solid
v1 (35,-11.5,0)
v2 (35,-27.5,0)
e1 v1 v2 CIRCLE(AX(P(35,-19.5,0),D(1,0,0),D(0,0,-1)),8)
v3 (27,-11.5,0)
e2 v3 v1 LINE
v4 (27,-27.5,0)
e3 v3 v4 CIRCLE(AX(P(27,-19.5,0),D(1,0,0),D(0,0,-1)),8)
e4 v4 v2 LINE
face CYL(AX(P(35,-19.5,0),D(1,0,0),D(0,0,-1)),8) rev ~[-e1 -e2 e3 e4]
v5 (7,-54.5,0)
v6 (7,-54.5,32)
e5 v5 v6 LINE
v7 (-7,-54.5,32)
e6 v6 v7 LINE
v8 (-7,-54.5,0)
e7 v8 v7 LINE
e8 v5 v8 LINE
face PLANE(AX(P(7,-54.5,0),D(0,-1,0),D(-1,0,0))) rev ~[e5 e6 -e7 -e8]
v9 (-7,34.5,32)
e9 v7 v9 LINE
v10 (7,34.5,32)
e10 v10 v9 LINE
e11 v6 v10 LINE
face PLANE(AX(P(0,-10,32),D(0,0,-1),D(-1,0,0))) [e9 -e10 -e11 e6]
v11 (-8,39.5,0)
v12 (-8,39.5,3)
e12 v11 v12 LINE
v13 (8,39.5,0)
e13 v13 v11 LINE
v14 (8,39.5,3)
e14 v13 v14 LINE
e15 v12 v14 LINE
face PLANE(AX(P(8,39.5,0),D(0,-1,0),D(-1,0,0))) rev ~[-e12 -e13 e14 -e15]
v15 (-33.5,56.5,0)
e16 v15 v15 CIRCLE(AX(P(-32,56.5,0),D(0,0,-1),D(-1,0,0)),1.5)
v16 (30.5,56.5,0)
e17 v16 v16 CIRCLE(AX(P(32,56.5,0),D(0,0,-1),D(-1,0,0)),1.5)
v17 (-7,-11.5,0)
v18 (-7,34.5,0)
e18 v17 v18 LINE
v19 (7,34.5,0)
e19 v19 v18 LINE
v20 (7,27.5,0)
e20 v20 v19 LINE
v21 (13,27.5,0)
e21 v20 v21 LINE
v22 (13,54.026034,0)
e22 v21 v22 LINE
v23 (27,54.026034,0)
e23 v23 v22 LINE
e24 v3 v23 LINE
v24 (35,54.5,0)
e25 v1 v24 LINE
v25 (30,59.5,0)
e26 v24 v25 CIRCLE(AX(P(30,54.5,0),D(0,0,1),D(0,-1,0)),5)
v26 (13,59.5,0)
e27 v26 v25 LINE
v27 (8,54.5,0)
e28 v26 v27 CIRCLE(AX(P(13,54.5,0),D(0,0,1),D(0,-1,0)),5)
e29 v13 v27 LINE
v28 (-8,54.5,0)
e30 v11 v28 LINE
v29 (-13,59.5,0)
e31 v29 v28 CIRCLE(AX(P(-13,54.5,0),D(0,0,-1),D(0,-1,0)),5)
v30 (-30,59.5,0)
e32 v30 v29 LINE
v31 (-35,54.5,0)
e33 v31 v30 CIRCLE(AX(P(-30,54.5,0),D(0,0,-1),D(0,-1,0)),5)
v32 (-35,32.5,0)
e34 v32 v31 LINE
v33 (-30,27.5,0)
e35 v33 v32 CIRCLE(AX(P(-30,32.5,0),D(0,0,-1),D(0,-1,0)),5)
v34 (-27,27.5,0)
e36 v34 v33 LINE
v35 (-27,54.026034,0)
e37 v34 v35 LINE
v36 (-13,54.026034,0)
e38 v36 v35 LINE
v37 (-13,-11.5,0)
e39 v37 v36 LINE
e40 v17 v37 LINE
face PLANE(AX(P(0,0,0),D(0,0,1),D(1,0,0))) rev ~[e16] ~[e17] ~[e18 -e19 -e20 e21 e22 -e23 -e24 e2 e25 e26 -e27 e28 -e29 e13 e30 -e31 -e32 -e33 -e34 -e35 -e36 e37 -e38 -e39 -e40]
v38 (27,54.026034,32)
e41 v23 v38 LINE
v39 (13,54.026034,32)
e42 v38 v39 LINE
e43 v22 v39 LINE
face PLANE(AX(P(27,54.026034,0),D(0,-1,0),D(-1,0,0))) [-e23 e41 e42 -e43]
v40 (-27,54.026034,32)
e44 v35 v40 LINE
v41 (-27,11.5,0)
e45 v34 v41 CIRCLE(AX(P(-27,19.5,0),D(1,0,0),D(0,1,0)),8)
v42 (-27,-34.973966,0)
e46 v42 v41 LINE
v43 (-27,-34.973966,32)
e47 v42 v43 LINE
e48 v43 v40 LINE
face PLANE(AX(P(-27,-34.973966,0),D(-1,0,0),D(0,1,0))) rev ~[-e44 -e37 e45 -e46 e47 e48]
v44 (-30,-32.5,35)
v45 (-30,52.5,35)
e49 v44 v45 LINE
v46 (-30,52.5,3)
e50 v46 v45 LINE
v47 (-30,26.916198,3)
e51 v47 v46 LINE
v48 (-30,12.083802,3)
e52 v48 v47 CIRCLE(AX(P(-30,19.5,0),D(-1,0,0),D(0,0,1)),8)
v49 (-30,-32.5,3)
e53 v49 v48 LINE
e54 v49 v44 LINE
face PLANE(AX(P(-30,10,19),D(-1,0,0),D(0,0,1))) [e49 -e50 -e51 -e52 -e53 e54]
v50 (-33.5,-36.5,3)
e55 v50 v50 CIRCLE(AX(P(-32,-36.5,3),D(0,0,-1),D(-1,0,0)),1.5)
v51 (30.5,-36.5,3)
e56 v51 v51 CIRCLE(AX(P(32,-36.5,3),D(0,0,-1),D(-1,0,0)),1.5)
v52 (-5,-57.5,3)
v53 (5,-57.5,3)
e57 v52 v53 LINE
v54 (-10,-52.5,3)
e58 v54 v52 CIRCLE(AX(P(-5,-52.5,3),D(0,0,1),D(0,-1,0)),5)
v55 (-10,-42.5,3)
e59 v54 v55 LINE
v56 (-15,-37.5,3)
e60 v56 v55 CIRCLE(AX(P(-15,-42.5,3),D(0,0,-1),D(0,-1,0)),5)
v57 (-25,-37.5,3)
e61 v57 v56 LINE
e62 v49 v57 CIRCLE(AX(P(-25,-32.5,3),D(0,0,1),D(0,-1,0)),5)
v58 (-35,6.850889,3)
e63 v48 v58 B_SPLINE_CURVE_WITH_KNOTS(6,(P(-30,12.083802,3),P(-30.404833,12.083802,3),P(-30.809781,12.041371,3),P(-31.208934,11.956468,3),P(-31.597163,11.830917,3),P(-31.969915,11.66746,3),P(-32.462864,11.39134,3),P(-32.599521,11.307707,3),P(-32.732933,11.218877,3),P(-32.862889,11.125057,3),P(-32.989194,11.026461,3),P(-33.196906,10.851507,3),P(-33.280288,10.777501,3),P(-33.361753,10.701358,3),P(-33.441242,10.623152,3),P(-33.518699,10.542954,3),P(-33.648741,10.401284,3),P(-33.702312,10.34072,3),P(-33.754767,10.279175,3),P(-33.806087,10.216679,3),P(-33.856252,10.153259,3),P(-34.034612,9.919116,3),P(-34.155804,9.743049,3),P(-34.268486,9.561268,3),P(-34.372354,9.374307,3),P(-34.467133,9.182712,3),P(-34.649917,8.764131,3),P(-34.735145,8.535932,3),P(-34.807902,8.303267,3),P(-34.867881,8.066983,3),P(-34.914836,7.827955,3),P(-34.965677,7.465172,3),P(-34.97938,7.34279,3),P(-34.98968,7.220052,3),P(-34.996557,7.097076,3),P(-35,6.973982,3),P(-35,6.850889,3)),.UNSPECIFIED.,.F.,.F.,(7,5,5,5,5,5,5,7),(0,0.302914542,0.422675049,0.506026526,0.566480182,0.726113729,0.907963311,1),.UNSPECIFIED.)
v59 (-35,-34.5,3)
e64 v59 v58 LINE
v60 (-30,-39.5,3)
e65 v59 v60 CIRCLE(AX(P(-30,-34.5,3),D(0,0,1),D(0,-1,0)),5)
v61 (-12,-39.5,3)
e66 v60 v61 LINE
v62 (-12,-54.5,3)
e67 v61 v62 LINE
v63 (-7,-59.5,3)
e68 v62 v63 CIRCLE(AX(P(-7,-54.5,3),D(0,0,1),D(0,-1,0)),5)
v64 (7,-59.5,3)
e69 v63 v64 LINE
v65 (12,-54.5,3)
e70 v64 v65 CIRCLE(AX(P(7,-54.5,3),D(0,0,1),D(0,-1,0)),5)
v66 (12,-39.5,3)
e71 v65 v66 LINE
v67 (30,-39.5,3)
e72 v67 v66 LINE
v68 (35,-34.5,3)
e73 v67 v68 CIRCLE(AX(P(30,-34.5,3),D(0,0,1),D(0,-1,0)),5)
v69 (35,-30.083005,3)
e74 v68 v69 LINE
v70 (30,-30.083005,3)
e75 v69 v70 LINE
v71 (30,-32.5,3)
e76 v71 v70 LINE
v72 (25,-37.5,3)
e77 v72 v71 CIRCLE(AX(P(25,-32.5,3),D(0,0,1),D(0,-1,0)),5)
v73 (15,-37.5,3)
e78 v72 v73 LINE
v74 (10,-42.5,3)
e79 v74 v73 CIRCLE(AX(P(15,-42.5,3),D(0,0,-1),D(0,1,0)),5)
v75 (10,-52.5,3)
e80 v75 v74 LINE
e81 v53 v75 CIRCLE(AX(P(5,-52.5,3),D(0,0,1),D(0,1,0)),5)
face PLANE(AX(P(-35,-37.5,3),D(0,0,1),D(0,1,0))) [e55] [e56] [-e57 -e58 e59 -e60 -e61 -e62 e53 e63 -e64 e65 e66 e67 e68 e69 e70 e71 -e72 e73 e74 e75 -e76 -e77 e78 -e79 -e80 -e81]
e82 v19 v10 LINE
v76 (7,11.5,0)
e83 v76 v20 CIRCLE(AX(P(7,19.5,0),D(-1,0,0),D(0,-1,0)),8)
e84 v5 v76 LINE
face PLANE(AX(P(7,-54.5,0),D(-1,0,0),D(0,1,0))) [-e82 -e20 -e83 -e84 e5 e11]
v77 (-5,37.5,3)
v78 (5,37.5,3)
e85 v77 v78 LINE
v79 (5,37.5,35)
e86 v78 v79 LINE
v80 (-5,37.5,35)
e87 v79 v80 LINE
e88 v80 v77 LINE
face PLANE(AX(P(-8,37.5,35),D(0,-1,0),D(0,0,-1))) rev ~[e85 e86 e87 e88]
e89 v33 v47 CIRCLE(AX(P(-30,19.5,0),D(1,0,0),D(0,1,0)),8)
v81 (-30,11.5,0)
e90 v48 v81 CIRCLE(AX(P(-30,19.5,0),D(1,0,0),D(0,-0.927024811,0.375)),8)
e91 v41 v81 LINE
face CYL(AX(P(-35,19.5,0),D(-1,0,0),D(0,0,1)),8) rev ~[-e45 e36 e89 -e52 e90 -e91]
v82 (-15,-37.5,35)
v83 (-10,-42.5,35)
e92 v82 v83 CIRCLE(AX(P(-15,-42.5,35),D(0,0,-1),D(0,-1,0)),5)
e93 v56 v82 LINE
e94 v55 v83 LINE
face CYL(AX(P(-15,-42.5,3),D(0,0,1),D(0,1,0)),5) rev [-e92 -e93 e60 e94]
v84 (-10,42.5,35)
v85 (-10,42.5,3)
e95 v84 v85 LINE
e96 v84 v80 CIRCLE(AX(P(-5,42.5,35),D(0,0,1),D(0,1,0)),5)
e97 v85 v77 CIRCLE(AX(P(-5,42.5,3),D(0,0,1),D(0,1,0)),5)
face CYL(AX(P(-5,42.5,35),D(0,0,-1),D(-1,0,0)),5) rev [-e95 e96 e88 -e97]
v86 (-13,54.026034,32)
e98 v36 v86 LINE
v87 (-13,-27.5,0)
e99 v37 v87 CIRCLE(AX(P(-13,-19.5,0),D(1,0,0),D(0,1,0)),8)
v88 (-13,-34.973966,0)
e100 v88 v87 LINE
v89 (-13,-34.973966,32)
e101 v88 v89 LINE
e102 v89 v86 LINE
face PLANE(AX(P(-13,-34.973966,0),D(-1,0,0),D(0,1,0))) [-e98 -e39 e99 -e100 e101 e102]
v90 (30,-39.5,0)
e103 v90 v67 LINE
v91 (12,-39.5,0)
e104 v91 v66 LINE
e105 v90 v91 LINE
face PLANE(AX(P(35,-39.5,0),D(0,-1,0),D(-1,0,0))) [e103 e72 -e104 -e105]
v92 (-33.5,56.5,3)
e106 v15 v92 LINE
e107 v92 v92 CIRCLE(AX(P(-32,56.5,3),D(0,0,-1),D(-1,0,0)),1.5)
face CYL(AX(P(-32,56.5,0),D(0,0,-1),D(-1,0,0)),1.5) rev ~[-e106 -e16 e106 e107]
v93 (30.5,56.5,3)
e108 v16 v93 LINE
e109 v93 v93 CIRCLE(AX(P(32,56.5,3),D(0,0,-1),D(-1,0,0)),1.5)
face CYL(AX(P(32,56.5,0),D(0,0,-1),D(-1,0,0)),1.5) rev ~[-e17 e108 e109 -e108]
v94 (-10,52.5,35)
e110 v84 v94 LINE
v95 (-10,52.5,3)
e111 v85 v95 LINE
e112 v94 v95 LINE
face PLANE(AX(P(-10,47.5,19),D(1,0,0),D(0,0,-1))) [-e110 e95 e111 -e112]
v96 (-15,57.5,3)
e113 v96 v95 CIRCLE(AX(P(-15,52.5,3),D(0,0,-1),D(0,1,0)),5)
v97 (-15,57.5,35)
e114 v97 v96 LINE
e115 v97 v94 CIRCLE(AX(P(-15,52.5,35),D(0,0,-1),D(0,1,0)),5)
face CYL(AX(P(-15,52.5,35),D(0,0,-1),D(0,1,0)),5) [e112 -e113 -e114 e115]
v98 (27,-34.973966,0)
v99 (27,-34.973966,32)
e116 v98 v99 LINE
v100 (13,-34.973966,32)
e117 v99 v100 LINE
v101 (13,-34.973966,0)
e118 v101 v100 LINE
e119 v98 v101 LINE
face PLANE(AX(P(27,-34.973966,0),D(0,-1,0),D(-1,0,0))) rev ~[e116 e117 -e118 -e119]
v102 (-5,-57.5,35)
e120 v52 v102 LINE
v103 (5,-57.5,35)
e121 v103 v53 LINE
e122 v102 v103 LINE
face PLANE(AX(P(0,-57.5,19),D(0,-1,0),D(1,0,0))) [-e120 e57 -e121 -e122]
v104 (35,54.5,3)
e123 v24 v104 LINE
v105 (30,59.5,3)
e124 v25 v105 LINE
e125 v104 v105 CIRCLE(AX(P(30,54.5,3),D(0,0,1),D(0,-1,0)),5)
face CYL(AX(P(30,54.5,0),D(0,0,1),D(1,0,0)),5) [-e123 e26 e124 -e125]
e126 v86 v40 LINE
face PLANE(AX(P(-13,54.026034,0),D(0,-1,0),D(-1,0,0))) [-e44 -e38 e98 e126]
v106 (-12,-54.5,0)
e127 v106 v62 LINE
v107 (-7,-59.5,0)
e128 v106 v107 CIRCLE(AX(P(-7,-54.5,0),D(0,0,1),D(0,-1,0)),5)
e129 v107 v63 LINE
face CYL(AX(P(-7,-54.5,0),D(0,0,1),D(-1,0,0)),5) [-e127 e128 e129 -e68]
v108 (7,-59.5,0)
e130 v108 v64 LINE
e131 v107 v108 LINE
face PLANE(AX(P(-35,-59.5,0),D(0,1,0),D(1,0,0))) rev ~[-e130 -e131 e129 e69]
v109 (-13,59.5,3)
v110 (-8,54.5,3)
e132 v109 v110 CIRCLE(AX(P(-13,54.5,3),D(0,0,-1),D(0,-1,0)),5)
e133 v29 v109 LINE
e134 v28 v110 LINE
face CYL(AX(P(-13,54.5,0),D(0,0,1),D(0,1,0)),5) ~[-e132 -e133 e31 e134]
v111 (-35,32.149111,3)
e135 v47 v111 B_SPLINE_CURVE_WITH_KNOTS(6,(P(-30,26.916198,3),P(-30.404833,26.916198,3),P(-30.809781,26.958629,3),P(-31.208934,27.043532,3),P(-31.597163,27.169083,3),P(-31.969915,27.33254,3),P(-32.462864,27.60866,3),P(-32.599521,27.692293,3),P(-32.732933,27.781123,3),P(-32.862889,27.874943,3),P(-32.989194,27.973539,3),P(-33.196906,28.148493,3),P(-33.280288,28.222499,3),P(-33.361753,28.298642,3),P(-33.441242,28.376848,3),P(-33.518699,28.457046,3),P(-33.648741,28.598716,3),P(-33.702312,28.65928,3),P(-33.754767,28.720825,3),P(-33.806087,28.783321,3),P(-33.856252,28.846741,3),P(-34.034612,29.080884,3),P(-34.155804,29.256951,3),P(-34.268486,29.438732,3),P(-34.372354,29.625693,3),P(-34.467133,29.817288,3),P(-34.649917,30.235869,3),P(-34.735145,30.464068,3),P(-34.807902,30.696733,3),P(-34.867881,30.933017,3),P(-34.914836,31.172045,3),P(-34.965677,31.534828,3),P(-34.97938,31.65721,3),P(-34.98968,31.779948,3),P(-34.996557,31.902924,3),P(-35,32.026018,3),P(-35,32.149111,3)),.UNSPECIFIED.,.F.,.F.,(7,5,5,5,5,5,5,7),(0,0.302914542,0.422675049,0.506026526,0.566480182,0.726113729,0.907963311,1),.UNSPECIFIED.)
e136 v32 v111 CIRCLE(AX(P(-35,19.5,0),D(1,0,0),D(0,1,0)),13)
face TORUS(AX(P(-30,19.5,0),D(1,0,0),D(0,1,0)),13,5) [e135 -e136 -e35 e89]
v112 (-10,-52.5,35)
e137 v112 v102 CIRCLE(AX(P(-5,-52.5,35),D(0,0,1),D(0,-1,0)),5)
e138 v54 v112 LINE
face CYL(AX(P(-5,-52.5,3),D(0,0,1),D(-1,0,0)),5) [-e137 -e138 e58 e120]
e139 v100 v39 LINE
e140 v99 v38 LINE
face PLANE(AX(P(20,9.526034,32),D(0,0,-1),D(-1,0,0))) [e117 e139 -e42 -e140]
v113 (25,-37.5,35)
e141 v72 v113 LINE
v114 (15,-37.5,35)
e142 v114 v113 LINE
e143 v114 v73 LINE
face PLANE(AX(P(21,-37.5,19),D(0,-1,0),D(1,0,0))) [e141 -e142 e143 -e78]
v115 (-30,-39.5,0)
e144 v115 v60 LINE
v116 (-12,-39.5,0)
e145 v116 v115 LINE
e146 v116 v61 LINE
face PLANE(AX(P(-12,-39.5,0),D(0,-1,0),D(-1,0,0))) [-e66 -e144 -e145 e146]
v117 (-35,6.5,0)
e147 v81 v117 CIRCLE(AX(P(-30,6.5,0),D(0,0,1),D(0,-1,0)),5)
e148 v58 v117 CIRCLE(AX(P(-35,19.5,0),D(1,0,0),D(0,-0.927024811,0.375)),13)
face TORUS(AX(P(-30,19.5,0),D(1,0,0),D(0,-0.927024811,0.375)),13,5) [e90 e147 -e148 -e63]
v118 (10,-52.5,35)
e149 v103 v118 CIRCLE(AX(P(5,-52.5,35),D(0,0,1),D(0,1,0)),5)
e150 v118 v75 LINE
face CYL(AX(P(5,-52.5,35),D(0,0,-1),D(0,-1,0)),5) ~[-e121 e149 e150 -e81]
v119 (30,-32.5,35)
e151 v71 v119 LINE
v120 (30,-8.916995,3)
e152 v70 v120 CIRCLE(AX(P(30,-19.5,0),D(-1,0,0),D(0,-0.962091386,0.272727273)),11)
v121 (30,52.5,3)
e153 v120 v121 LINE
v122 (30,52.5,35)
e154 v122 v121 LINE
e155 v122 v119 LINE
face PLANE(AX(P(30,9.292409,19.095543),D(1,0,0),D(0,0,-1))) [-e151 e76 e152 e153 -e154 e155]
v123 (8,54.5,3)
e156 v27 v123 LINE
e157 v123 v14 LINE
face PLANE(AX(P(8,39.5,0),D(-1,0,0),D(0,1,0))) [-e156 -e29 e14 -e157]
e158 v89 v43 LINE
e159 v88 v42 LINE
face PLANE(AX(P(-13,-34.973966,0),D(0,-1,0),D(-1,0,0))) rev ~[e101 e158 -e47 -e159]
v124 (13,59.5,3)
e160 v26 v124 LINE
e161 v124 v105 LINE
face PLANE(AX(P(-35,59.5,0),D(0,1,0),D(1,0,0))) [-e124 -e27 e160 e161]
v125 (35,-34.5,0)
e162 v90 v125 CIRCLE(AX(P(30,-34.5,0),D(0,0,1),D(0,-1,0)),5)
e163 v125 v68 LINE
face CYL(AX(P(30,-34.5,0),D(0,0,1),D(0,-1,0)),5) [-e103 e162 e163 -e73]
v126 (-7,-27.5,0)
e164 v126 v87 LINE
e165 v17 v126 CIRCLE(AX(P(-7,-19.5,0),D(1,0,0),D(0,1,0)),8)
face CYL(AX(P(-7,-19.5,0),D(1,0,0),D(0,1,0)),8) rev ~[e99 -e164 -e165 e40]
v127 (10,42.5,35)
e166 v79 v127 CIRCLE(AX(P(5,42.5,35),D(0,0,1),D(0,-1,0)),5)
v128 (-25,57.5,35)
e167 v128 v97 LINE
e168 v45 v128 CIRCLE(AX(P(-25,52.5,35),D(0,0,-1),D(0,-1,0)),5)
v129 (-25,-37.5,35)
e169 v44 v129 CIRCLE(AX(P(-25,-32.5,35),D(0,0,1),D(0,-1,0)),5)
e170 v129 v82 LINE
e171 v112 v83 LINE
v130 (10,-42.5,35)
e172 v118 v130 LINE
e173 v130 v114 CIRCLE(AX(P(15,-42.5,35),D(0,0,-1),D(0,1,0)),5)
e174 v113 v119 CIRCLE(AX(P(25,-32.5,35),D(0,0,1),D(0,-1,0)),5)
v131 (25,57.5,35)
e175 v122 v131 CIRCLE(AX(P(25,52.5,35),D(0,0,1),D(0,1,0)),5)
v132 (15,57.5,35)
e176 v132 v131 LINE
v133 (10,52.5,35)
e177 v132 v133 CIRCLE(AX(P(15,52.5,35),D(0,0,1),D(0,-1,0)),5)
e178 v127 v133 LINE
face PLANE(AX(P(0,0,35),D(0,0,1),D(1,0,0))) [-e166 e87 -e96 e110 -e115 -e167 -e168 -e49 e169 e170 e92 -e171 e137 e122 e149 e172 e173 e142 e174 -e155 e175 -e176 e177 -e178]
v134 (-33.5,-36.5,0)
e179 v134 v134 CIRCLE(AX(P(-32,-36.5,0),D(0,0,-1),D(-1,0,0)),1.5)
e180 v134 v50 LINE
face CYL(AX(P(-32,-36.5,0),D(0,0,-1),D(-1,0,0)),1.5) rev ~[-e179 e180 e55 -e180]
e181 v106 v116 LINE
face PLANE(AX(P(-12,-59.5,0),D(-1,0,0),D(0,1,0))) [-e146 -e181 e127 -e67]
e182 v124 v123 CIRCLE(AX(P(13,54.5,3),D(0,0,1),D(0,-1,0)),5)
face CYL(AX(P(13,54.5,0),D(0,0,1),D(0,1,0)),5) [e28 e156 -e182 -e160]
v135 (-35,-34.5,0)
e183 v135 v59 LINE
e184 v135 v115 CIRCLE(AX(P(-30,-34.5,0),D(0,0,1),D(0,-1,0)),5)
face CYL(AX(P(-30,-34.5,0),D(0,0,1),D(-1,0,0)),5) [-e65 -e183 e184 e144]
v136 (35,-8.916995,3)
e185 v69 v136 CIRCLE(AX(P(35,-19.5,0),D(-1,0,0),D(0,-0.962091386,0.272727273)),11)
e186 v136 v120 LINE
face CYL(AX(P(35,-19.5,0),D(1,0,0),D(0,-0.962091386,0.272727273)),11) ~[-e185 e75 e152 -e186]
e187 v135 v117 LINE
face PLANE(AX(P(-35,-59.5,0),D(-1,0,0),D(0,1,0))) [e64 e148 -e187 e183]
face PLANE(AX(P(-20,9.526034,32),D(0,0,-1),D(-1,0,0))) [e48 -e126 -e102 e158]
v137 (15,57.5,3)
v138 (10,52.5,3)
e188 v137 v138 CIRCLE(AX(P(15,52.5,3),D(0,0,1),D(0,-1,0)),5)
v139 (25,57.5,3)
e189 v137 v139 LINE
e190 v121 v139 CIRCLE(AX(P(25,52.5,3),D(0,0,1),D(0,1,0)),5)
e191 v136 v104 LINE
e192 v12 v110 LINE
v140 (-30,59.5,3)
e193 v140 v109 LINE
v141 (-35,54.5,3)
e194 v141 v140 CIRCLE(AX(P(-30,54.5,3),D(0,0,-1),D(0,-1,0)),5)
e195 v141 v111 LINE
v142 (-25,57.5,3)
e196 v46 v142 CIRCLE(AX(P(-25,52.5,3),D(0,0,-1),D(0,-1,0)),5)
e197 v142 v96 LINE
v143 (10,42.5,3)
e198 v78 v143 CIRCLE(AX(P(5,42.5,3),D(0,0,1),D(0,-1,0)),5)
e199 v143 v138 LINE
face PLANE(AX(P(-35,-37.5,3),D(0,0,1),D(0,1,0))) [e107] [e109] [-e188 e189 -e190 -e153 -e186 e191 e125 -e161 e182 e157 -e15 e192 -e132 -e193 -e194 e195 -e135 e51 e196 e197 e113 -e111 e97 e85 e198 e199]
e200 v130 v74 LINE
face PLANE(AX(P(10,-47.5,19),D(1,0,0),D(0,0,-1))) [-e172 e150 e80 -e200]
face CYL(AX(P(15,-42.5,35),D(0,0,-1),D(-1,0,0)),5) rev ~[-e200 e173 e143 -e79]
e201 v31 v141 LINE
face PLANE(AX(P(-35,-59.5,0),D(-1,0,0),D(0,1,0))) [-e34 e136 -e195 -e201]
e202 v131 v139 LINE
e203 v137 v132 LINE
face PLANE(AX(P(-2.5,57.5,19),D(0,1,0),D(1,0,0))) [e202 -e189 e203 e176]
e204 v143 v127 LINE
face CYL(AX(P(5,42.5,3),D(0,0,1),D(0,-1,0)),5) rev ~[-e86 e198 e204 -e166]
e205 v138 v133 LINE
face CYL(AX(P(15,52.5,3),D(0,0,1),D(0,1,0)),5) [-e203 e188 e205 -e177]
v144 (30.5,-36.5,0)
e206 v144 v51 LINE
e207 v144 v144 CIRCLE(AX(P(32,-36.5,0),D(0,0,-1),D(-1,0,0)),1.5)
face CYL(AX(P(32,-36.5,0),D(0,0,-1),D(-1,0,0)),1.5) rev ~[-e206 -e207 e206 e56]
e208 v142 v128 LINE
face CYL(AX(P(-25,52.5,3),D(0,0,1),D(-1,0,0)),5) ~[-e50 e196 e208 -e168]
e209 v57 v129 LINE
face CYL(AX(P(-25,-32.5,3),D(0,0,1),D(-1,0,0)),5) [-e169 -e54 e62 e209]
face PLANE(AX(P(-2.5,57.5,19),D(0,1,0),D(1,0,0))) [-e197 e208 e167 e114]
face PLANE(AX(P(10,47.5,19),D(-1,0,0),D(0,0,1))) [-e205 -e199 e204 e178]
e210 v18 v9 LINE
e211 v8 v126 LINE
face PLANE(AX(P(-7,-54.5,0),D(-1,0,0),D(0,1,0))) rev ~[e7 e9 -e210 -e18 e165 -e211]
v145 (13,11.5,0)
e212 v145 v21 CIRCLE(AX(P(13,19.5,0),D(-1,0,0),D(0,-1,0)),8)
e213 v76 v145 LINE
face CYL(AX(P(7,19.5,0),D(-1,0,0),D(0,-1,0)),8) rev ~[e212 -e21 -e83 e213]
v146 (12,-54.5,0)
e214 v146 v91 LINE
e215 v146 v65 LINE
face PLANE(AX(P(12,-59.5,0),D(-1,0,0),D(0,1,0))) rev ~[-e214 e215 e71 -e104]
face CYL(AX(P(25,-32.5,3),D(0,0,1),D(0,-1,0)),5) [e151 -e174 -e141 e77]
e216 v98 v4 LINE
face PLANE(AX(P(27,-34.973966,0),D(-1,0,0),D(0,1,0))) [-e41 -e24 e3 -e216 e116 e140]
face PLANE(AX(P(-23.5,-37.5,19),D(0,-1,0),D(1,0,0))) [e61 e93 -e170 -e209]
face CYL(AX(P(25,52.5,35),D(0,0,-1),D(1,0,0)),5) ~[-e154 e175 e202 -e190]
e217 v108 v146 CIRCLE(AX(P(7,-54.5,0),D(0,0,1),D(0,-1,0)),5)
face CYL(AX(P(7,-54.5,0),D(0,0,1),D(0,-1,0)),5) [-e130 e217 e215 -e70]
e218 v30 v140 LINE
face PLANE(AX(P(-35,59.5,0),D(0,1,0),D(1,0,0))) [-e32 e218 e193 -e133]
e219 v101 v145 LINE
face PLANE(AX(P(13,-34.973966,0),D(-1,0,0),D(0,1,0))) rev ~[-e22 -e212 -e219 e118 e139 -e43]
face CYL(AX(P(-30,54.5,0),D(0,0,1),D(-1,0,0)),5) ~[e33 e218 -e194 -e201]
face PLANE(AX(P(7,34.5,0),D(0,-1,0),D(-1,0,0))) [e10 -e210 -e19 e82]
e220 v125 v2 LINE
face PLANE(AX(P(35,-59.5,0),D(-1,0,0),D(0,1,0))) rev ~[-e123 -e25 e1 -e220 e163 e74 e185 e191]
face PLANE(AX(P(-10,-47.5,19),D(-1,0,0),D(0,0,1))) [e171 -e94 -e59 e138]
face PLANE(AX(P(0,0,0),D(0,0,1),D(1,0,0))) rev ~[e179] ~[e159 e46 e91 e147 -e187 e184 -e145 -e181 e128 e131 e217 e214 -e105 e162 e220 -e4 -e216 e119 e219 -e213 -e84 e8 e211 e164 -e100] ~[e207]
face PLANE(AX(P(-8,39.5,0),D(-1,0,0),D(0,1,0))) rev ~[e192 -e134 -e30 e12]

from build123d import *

# Parameters (mm, degrees)
SKETCH1_W           = 70
SKETCH1_H           = 119
BOSS_EXTRUDE1_DEPTH = 35
SKETCH2_R           = 8
CUT_EXTRUDE1_DEPTH  = 8
SKETCH3_R           = 8
CUT_EXTRUDE2_DEPTH  = 8
SKETCH4_W           = 14
SKETCH4_H           = 89
CUT_EXTRUDE3_DEPTH  = 32
CUT_EXTRUDE4_REACH  = 82.804
CUT_EXTRUDE5_REACH  = 82.804
SKETCH7_W           = 23
SKETCH7_H           = 20
SKETCH7_W_2         = 16
CUT_EXTRUDE6_DEPTH  = 78.396705356
CUT_EXTRUDE7_DEPTH  = 5
SKETCH9_W           = 18
SKETCH9_H           = 32
CUT_EXTRUDE8_DEPTH  = 2
SKETCH10_W          = 24
SKETCH10_H          = 32
CUT_EXTRUDE9_DEPTH  = 2
SKETCH11_W          = 23
SKETCH11_H          = 32
CUT_EXTRUDE10_DEPTH = 2
SKETCH12_W          = 32
SKETCH12_H          = 20
CUT_EXTRUDE11_DEPTH = 2
SKETCH13_W          = 32
SKETCH13_H          = 20
CUT_EXTRUDE12_DEPTH = 2
SKETCH14_W          = 65
SKETCH14_H          = 32
CUT_EXTRUDE13_DEPTH = 2
SKETCH15_W          = 16
SKETCH15_H          = 32
CUT_EXTRUDE15_DEPTH = 2
SKETCH17_W          = 32
SKETCH17_H          = 20
CUT_EXTRUDE16_DEPTH = 2
SKETCH18_W          = 32
SKETCH18_H          = 20
CUT_EXTRUDE17_DEPTH = 2
SKETCH20_W          = 32
SKETCH20_H          = 95
CUT_EXTRUDE18_DEPTH = 5
SKETCH21_R          = 1.5
CUT_EXTRUDE20_DEPTH = 10
FILLET1_R           = 5
FILLET2_R           = 5


with BuildPart() as part:
    # Sketch1 → Boss-Extrude1 (new body)
    with BuildSketch(Plane.XY):
        Rectangle(SKETCH1_W, SKETCH1_H)
    extrude(amount=BOSS_EXTRUDE1_DEPTH)

    # Sketch2 → Cut-Extrude1 (cut)
    with BuildSketch(Plane(origin=(35, 0, 0), x_dir=(0, 0, -1), z_dir=(1, 0, 0))):
        with Locations((0, -19.5)):
            Circle(SKETCH2_R)
    extrude(amount=-CUT_EXTRUDE1_DEPTH, mode=Mode.SUBTRACT)

    # Sketch3 → Cut-Extrude2 (cut)
    with BuildSketch(Plane.ZY.offset(35)):
        with Locations((0, 19.5)):
            Circle(SKETCH3_R)
    extrude(amount=-CUT_EXTRUDE2_DEPTH, mode=Mode.SUBTRACT)

    # Sketch4 → Cut-Extrude3 (cut)
    with BuildSketch(Plane(origin=(0, 0, 0), x_dir=(-1, 0, 0), z_dir=(0, 0, -1))):
        with Locations((-20, 9.526034086)):
            Rectangle(SKETCH4_W, SKETCH4_H)
        with Locations((0, -10)):
            Rectangle(SKETCH4_W, SKETCH4_H)
        with Locations((20, 9.526034086)):
            Rectangle(SKETCH4_W, SKETCH4_H)
    extrude(amount=-CUT_EXTRUDE3_DEPTH, mode=Mode.SUBTRACT)

    # Sketch5 → Cut-Extrude4 (cut, up to next)
    with BuildSketch(Plane.ZY.offset(-7), mode=Mode.PRIVATE) as cut_extrude4_sk1:
        with BuildLine():
            Line((0, 27.5), (0, 11.5))
            ThreePointArc((0, 11.5), (8, 19.5), (0, 27.5))
        make_face()
    cut_extrude4_tool1 = extrude(cut_extrude4_sk1.sketch, amount=-CUT_EXTRUDE4_REACH, mode=Mode.PRIVATE) & part.part
    add(cut_extrude4_tool1.solids().sort_by_distance((7, 19.5, 3.395305))[0], mode=Mode.SUBTRACT)

    # Sketch6 → Cut-Extrude5 (cut, up to next)
    with BuildSketch(Plane(origin=(-7, 0, 0), x_dir=(0, 0, -1), z_dir=(1, 0, 0)), mode=Mode.PRIVATE) as cut_extrude5_sk1:
        with BuildLine():
            Line((0, -27.5), (0, -11.5))
            ThreePointArc((0, -11.5), (-8, -19.5), (0, -27.5))
        make_face()
    cut_extrude5_tool1 = extrude(cut_extrude5_sk1.sketch, amount=-CUT_EXTRUDE5_REACH, mode=Mode.PRIVATE) & part.part
    add(cut_extrude5_tool1.solids().sort_by_distance((-7, -19.5, 3.395305))[0], mode=Mode.SUBTRACT)

    # Sketch7 → Cut-Extrude6 (cut, through all)
    with BuildSketch(Plane(origin=(0, 0, 0), x_dir=(-1, 0, 0), z_dir=(0, 0, -1))):
        with Locations((23.5, -49.5)):
            Rectangle(SKETCH7_W, SKETCH7_H)
        with Locations((0, 49.5)):
            Rectangle(SKETCH7_W_2, SKETCH7_H)
        with Locations((-23.5, -49.5)):
            Rectangle(SKETCH7_W, SKETCH7_H)
    extrude(amount=-CUT_EXTRUDE6_DEPTH, mode=Mode.SUBTRACT)

    # Sketch8 → Cut-Extrude7 (cut)
    with BuildSketch(Plane(origin=(35, 0, 0), x_dir=(0, 0, -1), z_dir=(1, 0, 0))):
        with BuildLine():
            Line((-3, 59.5), (-35, 59.5))
            Line((-35, 59.5), (-35, -39.5))
            Line((-35, -39.5), (-3, -39.5))
            Line((-3, -39.5), (-3, -30.083005244))
            ThreePointArc((-3, -30.083005244), (-11, -19.5), (-3, -8.916994756))
            Line((-3, -8.916994756), (-3, 59.5))
        make_face()
    extrude(amount=-CUT_EXTRUDE7_DEPTH, mode=Mode.SUBTRACT)

    # Sketch9 → Cut-Extrude8 (cut)
    with BuildSketch(Plane.XZ.offset(39.5)):
        with Locations((21, 19)):
            Rectangle(SKETCH9_W, SKETCH9_H)
    extrude(amount=-CUT_EXTRUDE8_DEPTH, mode=Mode.SUBTRACT)

    # Sketch10 → Cut-Extrude9 (cut)
    with BuildSketch(Plane.XZ.offset(59.5)):
        with Locations((0, 19)):
            Rectangle(SKETCH10_W, SKETCH10_H)
    extrude(amount=-CUT_EXTRUDE9_DEPTH, mode=Mode.SUBTRACT)

    # Sketch11 → Cut-Extrude10 (cut)
    with BuildSketch(Plane.XZ.offset(39.5)):
        with Locations((-23.5, 19)):
            Rectangle(SKETCH11_W, SKETCH11_H)
    extrude(amount=-CUT_EXTRUDE10_DEPTH, mode=Mode.SUBTRACT)

    # Sketch12 → Cut-Extrude11 (cut)
    with BuildSketch(Plane.ZY.offset(12)):
        with Locations((19, -47.5)):
            Rectangle(SKETCH12_W, SKETCH12_H)
    extrude(amount=-CUT_EXTRUDE11_DEPTH, mode=Mode.SUBTRACT)

    # Sketch13 → Cut-Extrude12 (cut)
    with BuildSketch(Plane(origin=(12, 0, 0), x_dir=(0, 0, -1), z_dir=(1, 0, 0))):
        with Locations((-19, -47.5)):
            Rectangle(SKETCH13_W, SKETCH13_H)
    extrude(amount=-CUT_EXTRUDE12_DEPTH, mode=Mode.SUBTRACT)

    # Sketch14 → Cut-Extrude13 (cut)
    with BuildSketch(Plane(origin=(0, 59.5, 0), x_dir=(1, 0, 0), z_dir=(0, 1, 0))):
        with Locations((-2.5, -19)):
            Rectangle(SKETCH14_W, SKETCH14_H)
    extrude(amount=-CUT_EXTRUDE13_DEPTH, mode=Mode.SUBTRACT)

    # Sketch15 → Cut-Extrude15 (cut)
    with BuildSketch(Plane(origin=(0, 39.5, 0), x_dir=(1, 0, 0), z_dir=(0, 1, 0))):
        with Locations((0, -19)):
            Rectangle(SKETCH15_W, SKETCH15_H)
    extrude(amount=-CUT_EXTRUDE15_DEPTH, mode=Mode.SUBTRACT)

    # Sketch17 → Cut-Extrude16 (cut)
    with BuildSketch(Plane(origin=(-8, 0, 0), x_dir=(0, 0, -1), z_dir=(1, 0, 0))):
        with Locations((-19, 47.5)):
            Rectangle(SKETCH17_W, SKETCH17_H)
    extrude(amount=-CUT_EXTRUDE16_DEPTH, mode=Mode.SUBTRACT)

    # Sketch18 → Cut-Extrude17 (cut)
    with BuildSketch(Plane.ZY.offset(-8)):
        with Locations((19, 47.5)):
            Rectangle(SKETCH18_W, SKETCH18_H)
    extrude(amount=-CUT_EXTRUDE17_DEPTH, mode=Mode.SUBTRACT)

    # Sketch20 → Cut-Extrude18 (cut)
    with BuildSketch(Plane.ZY.offset(35)):
        with Locations((19, 10)):
            Rectangle(SKETCH20_W, SKETCH20_H)
    extrude(amount=-CUT_EXTRUDE18_DEPTH, mode=Mode.SUBTRACT)

    # Sketch21 → Cut-Extrude20 (cut)
    with BuildSketch(Plane(origin=(0, 0, 0), x_dir=(-1, 0, 0), z_dir=(0, 0, -1))):
        with Locations((-32, 56.5)):
            Circle(SKETCH21_R)
        with Locations((32, 56.5)):
            Circle(SKETCH21_R)
        with Locations((32, -36.5)):
            Circle(SKETCH21_R)
        with Locations((-32, -36.5)):
            Circle(SKETCH21_R)
    extrude(amount=-CUT_EXTRUDE20_DEPTH, mode=Mode.SUBTRACT)

    # Fillet1
    fillet1_edges = [part.edges().sort_by_distance(p)[0] for p in [
        (30, -37.5, 19),
        (-10, -57.5, 19),
        (-10, -37.5, 19),
        (10, -37.5, 19),
        (10, -57.5, 19),
        (30, 57.5, 19),
        (-10, 37.5, 19),
        (-10, 57.5, 19),
        (10, 57.5, 19),
        (10, 37.5, 19),
        (-30, 57.5, 19),
        (-30, -37.5, 19),
    ]]
    fillet(fillet1_edges, radius=FILLET1_R)

    # Fillet2
    fillet2_edges = [part.edges().sort_by_distance(p)[0] for p in [
        (35, 59.5, 1.5),
        (8, 59.5, 1.5),
        (-8, 59.5, 1.5),
        (-35, 59.5, 1.5),
        (-35, 11.64730658, 1.5281381),
        (-35, 27.35269342, 1.5281381),
        (-35, -39.5, 1.5),
        (-12, -59.5, 1.5),
        (12, -59.5, 1.5),
        (35, -39.5, 1.5),
    ]]
    fillet(fillet2_edges, radius=FILLET2_R)


solid = part.part
